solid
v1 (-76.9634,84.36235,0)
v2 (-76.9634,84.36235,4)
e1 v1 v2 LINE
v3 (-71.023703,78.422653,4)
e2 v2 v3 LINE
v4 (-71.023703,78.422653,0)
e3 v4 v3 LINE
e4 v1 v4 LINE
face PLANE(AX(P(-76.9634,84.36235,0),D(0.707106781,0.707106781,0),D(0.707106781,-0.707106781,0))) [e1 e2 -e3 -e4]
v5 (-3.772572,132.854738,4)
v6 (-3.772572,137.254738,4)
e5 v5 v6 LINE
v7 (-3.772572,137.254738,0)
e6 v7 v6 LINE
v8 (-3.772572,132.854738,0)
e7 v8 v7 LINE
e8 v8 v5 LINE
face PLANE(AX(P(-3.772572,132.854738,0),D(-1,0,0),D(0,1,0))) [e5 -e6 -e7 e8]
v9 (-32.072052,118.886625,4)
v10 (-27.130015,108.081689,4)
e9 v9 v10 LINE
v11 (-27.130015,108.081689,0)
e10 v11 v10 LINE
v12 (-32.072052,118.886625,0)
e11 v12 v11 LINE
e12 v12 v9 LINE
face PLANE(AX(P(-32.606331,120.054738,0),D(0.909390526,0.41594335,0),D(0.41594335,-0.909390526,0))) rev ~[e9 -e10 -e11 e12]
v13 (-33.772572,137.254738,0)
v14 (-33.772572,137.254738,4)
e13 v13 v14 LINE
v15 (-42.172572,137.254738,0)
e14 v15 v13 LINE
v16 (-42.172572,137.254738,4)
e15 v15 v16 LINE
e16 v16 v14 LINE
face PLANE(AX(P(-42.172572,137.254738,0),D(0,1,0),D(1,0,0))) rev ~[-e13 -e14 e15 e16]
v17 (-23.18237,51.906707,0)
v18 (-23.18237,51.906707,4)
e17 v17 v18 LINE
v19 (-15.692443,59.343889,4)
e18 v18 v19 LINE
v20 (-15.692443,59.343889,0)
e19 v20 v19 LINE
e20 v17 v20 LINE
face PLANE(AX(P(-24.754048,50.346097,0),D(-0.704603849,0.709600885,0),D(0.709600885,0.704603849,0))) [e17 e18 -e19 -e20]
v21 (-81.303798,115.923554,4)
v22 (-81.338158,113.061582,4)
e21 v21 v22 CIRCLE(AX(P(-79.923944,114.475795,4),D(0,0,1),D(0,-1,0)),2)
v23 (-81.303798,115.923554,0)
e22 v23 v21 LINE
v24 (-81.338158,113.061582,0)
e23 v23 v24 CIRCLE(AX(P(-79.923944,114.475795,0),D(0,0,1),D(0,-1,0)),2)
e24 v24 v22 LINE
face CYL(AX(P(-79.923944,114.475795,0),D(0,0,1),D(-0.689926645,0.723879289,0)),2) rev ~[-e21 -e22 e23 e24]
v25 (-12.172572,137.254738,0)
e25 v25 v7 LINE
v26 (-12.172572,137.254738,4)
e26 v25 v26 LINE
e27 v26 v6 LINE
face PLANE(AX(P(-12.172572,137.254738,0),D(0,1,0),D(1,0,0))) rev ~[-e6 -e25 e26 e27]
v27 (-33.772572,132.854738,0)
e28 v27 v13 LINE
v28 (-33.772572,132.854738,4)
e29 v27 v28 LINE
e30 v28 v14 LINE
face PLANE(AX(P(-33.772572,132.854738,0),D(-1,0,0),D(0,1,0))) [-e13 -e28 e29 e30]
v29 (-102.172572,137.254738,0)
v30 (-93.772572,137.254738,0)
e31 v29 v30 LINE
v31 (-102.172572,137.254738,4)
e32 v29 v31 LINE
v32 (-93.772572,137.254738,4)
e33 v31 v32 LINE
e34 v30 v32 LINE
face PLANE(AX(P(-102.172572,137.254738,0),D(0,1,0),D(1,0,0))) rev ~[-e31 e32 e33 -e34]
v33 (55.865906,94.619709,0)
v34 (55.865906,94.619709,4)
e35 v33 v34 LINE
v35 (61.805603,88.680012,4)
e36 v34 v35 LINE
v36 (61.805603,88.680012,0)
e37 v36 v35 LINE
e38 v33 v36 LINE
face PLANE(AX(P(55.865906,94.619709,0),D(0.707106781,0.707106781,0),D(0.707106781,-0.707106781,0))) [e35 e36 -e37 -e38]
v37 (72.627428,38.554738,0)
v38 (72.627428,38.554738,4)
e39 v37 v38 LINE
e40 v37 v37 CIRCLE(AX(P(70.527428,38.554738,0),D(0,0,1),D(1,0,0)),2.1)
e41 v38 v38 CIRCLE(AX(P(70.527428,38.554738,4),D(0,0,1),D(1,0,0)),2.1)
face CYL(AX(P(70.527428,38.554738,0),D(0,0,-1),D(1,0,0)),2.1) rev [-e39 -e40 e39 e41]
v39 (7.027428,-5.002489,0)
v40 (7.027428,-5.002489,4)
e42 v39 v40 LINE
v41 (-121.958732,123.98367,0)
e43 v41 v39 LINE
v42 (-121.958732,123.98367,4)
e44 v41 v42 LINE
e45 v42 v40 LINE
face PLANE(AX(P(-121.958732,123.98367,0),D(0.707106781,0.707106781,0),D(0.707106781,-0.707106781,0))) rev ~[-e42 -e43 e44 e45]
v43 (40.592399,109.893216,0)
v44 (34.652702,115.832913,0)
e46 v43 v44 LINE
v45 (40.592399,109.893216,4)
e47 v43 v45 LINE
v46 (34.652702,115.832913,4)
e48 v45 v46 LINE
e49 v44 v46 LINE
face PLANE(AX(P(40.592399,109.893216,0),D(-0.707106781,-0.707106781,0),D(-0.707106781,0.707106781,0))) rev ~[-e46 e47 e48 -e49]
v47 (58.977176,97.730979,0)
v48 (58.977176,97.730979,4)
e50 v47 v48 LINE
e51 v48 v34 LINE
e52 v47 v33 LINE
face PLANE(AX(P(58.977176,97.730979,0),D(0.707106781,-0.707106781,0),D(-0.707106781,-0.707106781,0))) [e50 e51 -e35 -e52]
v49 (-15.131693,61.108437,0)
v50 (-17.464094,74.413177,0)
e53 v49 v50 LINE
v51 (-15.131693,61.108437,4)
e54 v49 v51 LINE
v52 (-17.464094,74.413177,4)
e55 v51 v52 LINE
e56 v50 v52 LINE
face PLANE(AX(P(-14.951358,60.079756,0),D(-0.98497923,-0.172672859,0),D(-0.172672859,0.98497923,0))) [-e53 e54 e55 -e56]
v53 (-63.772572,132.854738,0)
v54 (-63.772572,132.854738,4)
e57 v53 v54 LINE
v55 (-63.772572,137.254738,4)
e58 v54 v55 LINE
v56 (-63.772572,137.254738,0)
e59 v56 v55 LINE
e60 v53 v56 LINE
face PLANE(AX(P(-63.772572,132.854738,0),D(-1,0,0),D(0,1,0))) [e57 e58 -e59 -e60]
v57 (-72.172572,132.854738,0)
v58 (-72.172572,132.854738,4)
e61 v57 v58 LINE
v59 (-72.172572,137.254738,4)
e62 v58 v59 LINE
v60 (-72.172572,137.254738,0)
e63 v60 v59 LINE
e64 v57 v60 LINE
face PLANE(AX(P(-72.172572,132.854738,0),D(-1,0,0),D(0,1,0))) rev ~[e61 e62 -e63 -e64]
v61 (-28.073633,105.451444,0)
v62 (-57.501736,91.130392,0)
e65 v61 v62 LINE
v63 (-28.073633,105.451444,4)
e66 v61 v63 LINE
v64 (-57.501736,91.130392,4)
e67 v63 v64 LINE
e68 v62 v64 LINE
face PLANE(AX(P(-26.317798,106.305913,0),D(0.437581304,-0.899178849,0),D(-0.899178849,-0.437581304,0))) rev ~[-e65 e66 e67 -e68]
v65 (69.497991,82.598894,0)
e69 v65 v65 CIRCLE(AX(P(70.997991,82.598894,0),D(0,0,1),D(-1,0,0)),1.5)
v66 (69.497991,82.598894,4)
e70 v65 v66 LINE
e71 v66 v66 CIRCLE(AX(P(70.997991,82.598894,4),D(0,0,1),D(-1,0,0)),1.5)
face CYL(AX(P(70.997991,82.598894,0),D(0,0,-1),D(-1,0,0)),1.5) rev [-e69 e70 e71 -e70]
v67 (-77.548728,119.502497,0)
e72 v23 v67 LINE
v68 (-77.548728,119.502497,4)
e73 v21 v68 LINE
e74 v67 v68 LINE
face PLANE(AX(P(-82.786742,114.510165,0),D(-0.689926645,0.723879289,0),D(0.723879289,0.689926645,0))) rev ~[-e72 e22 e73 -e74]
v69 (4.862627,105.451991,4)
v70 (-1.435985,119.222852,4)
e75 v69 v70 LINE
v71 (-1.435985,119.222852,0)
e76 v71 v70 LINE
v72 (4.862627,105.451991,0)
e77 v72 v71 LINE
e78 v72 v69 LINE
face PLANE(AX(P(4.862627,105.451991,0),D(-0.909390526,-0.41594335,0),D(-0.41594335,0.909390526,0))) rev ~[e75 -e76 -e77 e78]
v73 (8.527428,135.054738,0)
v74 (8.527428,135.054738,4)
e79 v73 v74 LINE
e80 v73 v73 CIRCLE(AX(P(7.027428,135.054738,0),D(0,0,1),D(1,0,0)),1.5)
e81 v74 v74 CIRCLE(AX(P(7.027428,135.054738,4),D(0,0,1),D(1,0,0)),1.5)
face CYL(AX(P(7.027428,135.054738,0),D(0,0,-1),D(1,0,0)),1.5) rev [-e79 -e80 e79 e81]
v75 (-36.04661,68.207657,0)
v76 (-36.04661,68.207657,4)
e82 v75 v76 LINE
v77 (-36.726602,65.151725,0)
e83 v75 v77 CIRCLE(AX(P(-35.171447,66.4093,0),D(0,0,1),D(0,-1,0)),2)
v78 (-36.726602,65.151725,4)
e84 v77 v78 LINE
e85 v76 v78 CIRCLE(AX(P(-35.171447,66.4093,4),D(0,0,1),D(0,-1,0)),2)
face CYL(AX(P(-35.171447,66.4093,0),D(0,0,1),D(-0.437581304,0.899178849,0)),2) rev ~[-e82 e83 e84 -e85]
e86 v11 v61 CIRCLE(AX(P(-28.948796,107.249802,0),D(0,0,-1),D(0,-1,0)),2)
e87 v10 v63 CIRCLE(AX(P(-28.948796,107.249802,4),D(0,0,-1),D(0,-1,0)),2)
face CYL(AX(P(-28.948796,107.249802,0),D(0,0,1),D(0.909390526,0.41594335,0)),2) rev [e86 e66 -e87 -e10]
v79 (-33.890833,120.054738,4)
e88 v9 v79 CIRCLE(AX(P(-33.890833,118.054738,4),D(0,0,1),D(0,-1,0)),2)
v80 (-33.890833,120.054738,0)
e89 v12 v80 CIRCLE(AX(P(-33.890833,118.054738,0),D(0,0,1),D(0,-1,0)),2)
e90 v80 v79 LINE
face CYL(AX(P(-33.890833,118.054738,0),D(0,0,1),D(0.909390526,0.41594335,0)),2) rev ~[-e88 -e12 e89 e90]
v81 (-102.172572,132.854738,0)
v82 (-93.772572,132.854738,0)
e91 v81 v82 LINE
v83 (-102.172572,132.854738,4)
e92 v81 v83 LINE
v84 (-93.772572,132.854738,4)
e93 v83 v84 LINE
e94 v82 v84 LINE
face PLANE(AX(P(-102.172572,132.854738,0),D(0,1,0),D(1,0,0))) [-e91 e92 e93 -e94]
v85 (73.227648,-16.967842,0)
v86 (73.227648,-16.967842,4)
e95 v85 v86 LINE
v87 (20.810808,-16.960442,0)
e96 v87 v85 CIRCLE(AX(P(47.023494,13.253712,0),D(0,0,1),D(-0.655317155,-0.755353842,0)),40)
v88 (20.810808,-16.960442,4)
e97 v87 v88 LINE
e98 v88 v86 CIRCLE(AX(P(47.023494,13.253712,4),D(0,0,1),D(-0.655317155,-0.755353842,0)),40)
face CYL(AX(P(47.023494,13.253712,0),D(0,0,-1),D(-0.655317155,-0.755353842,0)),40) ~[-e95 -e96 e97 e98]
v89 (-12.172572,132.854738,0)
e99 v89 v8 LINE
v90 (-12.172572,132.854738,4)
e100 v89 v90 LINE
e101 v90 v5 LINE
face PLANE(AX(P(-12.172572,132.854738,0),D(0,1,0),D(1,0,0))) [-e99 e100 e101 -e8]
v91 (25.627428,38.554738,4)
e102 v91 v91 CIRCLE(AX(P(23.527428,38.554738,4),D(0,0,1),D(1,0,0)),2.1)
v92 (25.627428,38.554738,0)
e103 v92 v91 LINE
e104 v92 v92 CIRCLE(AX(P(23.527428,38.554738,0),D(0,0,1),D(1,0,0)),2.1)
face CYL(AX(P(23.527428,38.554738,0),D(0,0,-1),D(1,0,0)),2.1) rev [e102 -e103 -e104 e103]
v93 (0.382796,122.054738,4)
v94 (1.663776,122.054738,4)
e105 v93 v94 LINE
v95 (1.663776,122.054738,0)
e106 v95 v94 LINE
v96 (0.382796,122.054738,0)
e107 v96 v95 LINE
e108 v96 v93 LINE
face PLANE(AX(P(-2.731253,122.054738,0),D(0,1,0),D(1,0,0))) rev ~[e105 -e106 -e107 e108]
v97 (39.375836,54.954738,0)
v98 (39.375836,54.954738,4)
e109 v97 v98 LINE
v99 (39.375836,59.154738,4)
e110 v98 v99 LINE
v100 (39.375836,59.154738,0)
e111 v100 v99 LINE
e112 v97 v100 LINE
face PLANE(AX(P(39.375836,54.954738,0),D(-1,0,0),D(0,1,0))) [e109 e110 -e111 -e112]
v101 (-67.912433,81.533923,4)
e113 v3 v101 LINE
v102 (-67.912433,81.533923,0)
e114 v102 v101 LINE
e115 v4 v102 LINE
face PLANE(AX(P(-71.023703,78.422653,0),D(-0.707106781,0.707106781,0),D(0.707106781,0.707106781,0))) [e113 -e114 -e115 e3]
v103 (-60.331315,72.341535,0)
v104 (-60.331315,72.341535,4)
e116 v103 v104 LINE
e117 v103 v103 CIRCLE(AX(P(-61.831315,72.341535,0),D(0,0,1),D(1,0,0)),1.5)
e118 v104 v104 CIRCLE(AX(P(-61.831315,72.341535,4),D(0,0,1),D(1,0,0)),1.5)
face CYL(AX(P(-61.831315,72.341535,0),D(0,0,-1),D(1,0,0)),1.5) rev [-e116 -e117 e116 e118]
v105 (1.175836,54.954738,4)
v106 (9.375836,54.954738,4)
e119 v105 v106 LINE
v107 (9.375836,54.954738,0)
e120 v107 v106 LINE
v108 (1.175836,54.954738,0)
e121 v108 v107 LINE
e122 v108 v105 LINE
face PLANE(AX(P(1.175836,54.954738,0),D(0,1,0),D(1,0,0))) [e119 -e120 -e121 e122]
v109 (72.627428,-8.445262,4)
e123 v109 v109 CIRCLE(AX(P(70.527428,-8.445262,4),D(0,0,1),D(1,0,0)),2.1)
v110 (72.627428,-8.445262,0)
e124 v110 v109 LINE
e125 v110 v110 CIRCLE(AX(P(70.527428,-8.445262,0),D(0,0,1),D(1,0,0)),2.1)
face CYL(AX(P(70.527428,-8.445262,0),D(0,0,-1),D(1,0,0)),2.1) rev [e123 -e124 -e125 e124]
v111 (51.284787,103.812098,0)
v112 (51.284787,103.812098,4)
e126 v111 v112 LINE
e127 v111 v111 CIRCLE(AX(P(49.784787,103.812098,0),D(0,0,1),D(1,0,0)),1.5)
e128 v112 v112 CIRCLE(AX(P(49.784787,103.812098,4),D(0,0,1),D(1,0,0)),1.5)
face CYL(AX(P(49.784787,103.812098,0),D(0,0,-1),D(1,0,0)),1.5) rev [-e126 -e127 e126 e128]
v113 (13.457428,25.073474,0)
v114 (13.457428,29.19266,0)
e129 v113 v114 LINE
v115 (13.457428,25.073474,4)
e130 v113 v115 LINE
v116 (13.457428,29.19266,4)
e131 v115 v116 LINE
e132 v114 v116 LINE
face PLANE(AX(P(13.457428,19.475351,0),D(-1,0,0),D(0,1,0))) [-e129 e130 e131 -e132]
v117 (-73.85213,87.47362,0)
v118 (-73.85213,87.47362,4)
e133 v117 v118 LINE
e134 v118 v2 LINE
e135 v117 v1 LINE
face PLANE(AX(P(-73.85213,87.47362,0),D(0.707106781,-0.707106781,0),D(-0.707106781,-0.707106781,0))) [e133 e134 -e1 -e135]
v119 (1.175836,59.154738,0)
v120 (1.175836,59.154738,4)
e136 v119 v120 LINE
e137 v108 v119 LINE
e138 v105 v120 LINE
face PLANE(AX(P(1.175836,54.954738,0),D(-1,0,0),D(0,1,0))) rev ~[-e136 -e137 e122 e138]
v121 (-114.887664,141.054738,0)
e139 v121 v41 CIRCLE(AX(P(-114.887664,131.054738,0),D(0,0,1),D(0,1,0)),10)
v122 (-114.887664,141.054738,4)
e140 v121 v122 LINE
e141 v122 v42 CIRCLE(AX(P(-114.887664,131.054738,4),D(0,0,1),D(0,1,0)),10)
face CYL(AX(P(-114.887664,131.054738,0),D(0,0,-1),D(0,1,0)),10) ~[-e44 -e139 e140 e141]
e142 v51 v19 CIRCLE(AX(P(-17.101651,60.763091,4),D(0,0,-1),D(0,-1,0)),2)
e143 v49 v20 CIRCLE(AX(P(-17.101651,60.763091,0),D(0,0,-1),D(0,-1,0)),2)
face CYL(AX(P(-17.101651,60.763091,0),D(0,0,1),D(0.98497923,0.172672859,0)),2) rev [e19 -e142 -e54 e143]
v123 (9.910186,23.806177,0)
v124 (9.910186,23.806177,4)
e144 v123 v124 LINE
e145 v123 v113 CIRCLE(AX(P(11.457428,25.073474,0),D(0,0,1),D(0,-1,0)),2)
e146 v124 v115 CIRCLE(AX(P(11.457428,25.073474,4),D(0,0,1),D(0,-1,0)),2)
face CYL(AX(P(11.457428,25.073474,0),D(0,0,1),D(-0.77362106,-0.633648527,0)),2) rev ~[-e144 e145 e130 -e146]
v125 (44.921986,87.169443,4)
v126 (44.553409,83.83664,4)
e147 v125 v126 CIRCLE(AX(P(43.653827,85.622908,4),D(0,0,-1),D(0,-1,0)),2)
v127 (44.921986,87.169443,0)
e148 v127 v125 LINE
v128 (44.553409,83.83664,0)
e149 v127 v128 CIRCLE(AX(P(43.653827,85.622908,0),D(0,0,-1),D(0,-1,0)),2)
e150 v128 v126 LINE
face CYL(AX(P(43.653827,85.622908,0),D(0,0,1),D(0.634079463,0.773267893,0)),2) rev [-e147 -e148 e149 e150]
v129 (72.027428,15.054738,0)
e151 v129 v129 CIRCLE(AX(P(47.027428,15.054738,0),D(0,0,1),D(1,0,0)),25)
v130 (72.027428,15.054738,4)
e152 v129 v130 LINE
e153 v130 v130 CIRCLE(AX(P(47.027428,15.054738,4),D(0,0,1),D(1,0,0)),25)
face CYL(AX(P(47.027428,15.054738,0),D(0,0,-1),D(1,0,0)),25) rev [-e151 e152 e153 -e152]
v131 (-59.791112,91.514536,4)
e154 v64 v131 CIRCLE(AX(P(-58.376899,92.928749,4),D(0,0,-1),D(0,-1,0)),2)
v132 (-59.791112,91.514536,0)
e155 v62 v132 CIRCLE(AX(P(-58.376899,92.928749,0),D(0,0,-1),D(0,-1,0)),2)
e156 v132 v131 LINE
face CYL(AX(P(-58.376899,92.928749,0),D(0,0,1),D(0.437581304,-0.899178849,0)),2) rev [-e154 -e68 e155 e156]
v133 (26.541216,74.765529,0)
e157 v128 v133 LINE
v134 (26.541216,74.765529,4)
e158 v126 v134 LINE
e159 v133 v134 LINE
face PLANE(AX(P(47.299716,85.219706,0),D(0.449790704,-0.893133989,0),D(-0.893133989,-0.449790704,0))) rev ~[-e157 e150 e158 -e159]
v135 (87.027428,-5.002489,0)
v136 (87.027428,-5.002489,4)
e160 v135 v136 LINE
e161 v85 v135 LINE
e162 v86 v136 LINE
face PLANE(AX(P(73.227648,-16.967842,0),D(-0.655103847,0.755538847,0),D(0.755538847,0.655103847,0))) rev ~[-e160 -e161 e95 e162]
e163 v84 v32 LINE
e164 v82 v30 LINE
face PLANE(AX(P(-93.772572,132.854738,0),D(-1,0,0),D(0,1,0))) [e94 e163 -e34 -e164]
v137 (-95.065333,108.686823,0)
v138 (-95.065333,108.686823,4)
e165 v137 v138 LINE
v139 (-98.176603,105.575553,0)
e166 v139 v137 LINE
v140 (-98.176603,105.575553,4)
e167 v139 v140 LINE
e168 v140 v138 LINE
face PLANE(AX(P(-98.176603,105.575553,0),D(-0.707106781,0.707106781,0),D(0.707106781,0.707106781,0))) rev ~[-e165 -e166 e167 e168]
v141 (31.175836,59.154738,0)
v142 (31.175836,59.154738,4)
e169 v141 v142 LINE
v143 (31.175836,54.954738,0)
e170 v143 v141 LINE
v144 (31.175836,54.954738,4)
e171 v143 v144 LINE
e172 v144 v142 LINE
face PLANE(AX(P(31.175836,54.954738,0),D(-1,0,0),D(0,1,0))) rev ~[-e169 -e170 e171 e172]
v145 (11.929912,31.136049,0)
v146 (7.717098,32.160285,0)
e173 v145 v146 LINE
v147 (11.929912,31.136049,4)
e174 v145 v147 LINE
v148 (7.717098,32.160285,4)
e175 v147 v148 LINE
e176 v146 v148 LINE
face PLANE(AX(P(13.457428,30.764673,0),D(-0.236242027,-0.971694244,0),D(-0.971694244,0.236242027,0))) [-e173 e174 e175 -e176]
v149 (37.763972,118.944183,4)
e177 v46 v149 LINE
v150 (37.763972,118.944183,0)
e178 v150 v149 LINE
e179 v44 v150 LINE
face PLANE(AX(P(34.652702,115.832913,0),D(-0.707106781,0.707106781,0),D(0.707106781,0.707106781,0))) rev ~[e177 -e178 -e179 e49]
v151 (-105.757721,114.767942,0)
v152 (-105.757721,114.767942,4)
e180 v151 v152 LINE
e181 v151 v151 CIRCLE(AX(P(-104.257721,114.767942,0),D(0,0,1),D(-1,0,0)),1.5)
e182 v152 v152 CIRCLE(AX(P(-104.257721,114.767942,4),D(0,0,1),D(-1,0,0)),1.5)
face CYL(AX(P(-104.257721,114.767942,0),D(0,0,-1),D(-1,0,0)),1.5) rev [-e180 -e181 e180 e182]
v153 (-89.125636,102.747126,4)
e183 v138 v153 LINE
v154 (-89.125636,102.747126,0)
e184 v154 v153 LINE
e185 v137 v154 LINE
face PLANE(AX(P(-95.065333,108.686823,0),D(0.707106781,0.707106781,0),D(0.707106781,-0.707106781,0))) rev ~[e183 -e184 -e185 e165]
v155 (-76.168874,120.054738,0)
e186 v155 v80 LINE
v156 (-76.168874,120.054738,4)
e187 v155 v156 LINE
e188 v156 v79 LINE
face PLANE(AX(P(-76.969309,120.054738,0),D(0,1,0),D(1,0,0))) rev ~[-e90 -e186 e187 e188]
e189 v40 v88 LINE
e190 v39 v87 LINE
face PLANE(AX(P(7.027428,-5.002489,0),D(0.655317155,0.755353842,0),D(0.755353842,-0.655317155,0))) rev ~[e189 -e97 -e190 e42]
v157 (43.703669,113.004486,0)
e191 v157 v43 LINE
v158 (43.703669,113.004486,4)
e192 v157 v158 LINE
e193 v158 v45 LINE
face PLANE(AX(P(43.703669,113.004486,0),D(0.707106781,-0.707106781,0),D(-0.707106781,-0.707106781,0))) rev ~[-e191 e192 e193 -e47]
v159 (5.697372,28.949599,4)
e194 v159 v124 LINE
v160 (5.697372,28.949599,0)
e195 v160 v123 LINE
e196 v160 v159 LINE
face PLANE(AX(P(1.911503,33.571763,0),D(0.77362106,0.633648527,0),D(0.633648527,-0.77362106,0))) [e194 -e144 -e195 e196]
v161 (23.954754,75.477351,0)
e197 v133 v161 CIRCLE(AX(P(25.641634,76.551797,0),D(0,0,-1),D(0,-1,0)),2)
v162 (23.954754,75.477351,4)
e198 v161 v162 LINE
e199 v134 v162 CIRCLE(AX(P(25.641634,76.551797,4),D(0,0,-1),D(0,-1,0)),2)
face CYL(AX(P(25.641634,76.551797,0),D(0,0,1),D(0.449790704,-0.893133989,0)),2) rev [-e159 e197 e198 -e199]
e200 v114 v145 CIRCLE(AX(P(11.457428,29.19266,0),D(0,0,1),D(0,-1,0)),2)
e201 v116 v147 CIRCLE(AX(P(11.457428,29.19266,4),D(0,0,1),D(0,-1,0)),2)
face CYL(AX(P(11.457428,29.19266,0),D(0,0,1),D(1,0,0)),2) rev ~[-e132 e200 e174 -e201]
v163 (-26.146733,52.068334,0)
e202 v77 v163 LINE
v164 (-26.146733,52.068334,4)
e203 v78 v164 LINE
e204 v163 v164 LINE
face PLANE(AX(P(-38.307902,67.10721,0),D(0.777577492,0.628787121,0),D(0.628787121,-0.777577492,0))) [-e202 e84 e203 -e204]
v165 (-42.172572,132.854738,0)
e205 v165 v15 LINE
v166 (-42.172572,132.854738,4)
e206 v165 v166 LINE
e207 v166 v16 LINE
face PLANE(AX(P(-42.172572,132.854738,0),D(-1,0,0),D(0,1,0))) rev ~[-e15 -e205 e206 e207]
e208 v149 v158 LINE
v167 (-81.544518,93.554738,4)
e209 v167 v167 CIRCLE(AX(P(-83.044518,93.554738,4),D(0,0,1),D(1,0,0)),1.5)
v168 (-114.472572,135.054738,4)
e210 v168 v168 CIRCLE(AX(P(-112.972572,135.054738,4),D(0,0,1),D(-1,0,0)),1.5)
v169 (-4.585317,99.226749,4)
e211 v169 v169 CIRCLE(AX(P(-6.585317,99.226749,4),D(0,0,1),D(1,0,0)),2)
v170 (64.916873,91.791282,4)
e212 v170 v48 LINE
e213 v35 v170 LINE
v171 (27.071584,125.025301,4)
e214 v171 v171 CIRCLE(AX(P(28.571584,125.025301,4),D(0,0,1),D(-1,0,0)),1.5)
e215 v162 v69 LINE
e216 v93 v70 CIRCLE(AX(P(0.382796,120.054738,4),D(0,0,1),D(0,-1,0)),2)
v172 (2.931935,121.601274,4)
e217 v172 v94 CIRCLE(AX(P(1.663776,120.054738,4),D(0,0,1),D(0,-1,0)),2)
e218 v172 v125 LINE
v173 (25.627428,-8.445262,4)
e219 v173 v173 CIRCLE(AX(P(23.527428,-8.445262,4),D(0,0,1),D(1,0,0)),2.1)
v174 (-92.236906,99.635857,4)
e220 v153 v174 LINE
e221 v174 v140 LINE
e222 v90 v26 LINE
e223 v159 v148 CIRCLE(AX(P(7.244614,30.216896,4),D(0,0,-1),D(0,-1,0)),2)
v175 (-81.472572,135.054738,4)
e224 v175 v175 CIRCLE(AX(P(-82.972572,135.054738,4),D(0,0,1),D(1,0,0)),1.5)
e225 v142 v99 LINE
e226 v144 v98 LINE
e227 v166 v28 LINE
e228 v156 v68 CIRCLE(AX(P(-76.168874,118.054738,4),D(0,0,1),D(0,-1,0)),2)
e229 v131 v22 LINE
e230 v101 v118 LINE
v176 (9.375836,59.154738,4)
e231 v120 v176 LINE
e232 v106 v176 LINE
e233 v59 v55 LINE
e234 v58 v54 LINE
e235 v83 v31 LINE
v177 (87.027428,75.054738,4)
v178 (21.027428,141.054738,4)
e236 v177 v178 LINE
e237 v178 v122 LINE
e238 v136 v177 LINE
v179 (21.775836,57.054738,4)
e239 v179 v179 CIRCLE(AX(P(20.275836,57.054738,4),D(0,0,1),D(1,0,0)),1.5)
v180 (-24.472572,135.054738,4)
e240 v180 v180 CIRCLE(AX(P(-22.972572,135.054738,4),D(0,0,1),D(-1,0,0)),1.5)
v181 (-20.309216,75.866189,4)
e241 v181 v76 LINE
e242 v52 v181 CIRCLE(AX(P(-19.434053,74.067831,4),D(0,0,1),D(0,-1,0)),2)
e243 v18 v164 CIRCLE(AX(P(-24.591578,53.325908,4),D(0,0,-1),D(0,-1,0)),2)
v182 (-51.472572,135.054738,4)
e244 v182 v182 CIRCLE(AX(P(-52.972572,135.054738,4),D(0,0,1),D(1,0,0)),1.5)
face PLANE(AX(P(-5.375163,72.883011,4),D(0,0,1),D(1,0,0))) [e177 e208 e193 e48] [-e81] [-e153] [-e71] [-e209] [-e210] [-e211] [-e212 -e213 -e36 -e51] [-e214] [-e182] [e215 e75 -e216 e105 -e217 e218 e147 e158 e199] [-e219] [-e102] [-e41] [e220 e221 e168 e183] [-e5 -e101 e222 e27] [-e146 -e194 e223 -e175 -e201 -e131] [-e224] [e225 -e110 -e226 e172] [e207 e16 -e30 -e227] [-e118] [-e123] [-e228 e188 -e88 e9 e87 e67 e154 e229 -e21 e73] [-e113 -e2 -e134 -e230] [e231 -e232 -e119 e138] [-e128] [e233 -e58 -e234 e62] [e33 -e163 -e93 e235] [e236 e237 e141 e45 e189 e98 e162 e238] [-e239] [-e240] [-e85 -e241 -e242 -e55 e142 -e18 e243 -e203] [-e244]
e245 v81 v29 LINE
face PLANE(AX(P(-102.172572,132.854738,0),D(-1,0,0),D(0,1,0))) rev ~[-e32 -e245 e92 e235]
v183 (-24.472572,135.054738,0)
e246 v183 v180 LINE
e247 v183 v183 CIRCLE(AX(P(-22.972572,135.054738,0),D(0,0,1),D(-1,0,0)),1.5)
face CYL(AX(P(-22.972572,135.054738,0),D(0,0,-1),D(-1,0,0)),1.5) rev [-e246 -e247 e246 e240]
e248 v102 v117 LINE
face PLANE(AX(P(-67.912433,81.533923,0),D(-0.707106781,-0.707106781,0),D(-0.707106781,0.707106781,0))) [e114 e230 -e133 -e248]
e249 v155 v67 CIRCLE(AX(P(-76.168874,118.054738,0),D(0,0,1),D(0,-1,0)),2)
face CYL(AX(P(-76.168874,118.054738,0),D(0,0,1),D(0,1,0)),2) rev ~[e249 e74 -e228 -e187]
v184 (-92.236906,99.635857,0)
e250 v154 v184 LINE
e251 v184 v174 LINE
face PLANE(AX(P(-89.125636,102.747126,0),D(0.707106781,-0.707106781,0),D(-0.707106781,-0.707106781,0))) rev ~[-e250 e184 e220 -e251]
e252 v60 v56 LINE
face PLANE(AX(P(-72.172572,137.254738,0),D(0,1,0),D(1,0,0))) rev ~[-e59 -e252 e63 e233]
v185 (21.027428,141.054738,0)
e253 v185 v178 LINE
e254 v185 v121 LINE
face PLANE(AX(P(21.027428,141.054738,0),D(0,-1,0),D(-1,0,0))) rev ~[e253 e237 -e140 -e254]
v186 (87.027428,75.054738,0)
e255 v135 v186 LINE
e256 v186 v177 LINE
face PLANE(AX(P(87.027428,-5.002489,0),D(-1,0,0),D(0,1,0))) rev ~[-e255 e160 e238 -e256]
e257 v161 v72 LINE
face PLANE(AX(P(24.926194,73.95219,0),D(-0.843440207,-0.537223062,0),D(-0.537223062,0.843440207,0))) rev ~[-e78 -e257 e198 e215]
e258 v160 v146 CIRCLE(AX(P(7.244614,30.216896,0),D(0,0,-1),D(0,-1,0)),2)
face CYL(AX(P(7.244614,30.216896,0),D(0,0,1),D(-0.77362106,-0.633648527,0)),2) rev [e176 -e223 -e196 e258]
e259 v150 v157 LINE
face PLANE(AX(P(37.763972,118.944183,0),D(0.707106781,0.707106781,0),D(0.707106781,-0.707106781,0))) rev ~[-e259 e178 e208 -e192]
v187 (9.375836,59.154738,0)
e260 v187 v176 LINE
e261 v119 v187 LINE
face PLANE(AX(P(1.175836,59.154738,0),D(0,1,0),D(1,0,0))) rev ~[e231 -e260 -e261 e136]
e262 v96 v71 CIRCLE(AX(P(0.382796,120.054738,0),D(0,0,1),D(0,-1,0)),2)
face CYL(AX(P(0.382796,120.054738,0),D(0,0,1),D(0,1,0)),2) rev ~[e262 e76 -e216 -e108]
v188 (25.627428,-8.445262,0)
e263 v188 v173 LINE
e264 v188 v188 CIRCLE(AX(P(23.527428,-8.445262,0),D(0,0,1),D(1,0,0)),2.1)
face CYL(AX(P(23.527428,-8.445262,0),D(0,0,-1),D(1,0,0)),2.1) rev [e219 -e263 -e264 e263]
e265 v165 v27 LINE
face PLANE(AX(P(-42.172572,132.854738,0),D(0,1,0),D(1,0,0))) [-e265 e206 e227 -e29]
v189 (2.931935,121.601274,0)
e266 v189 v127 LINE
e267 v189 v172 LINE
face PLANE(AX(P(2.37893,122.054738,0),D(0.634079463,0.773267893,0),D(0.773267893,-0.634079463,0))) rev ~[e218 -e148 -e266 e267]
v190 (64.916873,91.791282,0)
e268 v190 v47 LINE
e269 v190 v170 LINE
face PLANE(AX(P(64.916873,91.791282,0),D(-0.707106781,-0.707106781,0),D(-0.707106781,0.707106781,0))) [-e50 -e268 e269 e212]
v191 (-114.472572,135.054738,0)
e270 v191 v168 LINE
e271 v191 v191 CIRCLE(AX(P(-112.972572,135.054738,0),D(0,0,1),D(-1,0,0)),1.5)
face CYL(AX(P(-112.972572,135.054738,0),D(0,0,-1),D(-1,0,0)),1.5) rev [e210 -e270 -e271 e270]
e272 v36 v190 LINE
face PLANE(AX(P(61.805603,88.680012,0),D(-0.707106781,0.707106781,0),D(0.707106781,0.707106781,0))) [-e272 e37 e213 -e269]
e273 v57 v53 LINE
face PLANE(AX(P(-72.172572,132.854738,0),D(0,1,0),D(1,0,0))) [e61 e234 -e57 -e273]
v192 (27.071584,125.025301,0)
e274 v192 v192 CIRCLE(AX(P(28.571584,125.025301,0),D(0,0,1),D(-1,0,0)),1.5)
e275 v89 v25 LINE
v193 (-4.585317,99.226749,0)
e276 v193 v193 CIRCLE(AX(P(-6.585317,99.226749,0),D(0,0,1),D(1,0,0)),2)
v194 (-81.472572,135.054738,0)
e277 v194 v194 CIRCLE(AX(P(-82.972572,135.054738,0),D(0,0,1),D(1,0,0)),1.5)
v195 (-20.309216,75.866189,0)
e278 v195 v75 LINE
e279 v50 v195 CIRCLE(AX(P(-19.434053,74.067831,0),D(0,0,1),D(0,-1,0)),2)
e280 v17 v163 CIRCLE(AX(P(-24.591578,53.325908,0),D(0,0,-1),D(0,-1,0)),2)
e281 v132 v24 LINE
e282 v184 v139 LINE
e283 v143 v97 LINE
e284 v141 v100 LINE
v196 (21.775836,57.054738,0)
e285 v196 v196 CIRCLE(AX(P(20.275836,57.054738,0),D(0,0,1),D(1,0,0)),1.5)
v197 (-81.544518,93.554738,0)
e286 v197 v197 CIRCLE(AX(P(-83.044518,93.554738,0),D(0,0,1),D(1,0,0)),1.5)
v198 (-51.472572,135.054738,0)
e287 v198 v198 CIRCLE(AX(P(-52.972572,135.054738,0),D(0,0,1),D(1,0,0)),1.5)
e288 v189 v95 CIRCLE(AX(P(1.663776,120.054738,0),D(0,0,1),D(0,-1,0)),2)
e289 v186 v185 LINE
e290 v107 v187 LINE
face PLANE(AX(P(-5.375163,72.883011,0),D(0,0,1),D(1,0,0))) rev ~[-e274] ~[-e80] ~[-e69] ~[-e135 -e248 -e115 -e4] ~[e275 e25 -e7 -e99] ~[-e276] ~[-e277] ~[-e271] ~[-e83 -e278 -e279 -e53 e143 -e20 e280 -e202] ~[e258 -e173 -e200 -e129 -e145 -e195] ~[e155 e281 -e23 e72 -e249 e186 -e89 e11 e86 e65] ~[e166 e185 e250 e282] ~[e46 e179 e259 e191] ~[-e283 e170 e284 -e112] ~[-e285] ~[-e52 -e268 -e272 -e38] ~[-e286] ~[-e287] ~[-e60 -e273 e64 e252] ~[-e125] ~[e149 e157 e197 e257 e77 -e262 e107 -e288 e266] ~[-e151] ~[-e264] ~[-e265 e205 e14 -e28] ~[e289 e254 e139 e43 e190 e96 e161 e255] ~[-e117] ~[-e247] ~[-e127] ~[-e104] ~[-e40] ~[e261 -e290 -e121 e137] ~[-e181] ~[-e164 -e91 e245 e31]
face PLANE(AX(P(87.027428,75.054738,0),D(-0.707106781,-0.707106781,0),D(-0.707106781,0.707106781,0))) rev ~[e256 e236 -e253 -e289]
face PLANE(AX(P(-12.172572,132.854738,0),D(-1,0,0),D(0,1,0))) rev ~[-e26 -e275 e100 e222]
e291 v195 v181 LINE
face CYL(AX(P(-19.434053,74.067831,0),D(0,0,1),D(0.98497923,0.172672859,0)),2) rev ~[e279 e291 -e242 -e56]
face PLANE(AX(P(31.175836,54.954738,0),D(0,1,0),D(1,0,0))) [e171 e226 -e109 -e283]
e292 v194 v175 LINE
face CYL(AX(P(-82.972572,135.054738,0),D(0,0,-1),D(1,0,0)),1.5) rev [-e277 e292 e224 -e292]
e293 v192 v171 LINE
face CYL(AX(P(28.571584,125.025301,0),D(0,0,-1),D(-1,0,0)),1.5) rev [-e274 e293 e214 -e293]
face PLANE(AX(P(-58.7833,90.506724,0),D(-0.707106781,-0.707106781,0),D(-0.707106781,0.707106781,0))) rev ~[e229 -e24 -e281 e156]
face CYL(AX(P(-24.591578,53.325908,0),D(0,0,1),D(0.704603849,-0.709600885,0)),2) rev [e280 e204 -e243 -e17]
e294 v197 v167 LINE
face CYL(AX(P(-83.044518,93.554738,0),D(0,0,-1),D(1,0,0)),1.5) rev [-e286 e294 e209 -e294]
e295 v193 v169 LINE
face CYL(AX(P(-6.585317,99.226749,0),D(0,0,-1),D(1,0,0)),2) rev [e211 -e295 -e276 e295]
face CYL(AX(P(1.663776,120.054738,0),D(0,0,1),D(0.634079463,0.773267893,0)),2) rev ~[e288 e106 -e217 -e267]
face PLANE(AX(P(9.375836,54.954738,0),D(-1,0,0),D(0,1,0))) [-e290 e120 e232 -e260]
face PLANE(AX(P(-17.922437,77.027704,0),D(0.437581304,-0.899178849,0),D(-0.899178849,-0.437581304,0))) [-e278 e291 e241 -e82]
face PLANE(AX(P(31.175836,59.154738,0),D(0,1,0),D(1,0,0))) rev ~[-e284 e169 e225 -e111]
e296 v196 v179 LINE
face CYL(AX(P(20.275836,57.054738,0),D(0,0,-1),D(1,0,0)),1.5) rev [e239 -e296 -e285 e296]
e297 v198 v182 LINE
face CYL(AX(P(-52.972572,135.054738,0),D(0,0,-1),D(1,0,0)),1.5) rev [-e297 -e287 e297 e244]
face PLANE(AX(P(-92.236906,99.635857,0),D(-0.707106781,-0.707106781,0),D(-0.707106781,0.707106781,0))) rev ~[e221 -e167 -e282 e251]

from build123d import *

# Parameters (mm, degrees)
SKETCH_1_R      = 1.5
SKETCH_1_R_2    = 25
SKETCH_1_R_3    = 2
SKETCH_1_R_4    = 2.1
SKETCH_1_W      = 8.4
SKETCH_1_H      = 4.4
SKETCH_1_W_2    = 8.2
SKETCH_1_H_2    = 4.2
EXTRUDE_1_DEPTH = 4
FILLET_2_R      = 2


with BuildPart() as part:
    # 草图1 → 凸台-拉伸1 (new body)
    with BuildSketch(Plane.XY):
        with BuildLine():
            Line((7.027428163, -5.002489357), (20.810808237, -16.960441938))
            ThreePointArc((20.810808237, -16.960441938), (47.017847244, -26.746287876), (73.227648339, -16.967842153))
            Line((73.227648339, -16.967842153), (87.027428163, -5.002489357))
            Line((87.027428163, -5.002489357), (87.027428163, 75.054738201))
            Line((87.027428163, 75.054738201), (21.027428163, 141.054738201))
            Line((21.027428163, 141.054738201), (-114.887663771, 141.054738201))
            ThreePointArc((-114.887663771, 141.054738201), (-124.126459096, 134.881572525), (-121.958731583, 123.983670389))
            Line((-121.958731583, 123.983670389), (-90.203942848, 92.228881654))
            Line((-90.203942848, 92.228881654), (7.027428163, -5.002489357))
        make_face()
        with Locations((-52.972571837, 135.054738201)):
            Circle(SKETCH_1_R, mode=Mode.SUBTRACT)
        with Locations((47.027428163, 15.054738201)):
            Circle(SKETCH_1_R_2, mode=Mode.SUBTRACT)
        with Locations(Location((-22.972571837, 135.054738201, 0), (0, 0, 180))):
            Circle(SKETCH_1_R, mode=Mode.SUBTRACT)
        with Locations((7.027428163, 135.054738201)):
            Circle(SKETCH_1_R, mode=Mode.SUBTRACT)
        with Locations(Location((-112.972571837, 135.054738201, 0), (0, 0, 180))):
            Circle(SKETCH_1_R, mode=Mode.SUBTRACT)
        with Locations((-82.972571837, 135.054738201)):
            Circle(SKETCH_1_R, mode=Mode.SUBTRACT)
        with Locations((49.784787476, 103.812097514)):
            Circle(SKETCH_1_R, mode=Mode.SUBTRACT)
        with Locations(Location((70.997990912, 82.598894078, 0), (0, 0, 180))):
            Circle(SKETCH_1_R, mode=Mode.SUBTRACT)
        with Locations(Location((28.571584041, 125.025300949, 0), (0, 0, 180))):
            Circle(SKETCH_1_R, mode=Mode.SUBTRACT)
        with Locations((-83.04451802, 93.554738201)):
            Circle(SKETCH_1_R, mode=Mode.SUBTRACT)
        with Locations((-61.831314585, 72.341534765)):
            Circle(SKETCH_1_R, mode=Mode.SUBTRACT)
        with Locations(Location((-104.257721456, 114.767941637, 0), (0, 0, 180))):
            Circle(SKETCH_1_R, mode=Mode.SUBTRACT)
        with Locations((20.275835807, 57.054738201)):
            Circle(SKETCH_1_R, mode=Mode.SUBTRACT)
        with Locations((-6.58531727, 99.226748532)):
            Circle(SKETCH_1_R_3, mode=Mode.SUBTRACT)
        with Locations((70.527428163, -8.445261799)):
            Circle(SKETCH_1_R_4, mode=Mode.SUBTRACT)
        with Locations((23.527428163, -8.445261799)):
            Circle(SKETCH_1_R_4, mode=Mode.SUBTRACT)
        with Locations((23.527428163, 38.554738201)):
            Circle(SKETCH_1_R_4, mode=Mode.SUBTRACT)
        with Locations((70.527428163, 38.554738201)):
            Circle(SKETCH_1_R_4, mode=Mode.SUBTRACT)
        with Locations((-37.972571837, 135.054738201)):
            Rectangle(SKETCH_1_W, SKETCH_1_H, mode=Mode.SUBTRACT)
        with Locations((-7.972571837, 135.054738201)):
            Rectangle(SKETCH_1_W, SKETCH_1_H, mode=Mode.SUBTRACT)
        with Locations((-97.972571837, 135.054738201)):
            Rectangle(SKETCH_1_W, SKETCH_1_H, mode=Mode.SUBTRACT)
        with Locations((-67.972571837, 135.054738201)):
            Rectangle(SKETCH_1_W, SKETCH_1_H, mode=Mode.SUBTRACT)
        Polygon((55.865905794, 94.619709358), (61.805602756, 88.680012396), (64.916872594, 91.791282234), (58.977175632, 97.730979196), align=None, mode=Mode.SUBTRACT)
        Polygon((34.652702359, 115.832912794), (37.763972196, 118.944182631), (43.703669158, 113.004485669), (40.592399321, 109.893215832), align=None, mode=Mode.SUBTRACT)
        Polygon((-73.852129865, 87.473619883), (-76.963399702, 84.362350046), (-71.02370274, 78.422653084), (-67.912432903, 81.533922921), align=None, mode=Mode.SUBTRACT)
        Polygon((-89.125636339, 102.747126356), (-92.236906176, 99.635856519), (-98.176603138, 105.575553481), (-95.065333301, 108.686823318), align=None, mode=Mode.SUBTRACT)
        with Locations((5.275835807, 57.054738201)):
            Rectangle(SKETCH_1_W_2, SKETCH_1_H_2, mode=Mode.SUBTRACT)
        with Locations((35.275835807, 57.054738201)):
            Rectangle(SKETCH_1_W_2, SKETCH_1_H_2, mode=Mode.SUBTRACT)
        Polygon((-26.317798475, 106.3059132), (-58.783300448, 90.506724064), (-82.786741677, 114.510165293), (-76.96930946, 120.054738201), (-32.606331473, 120.054738201), align=None, mode=Mode.SUBTRACT)
        Polygon((47.299715686, 85.219705889), (24.926194473, 73.952189511), (4.862626833, 105.451990707), (-2.731253041, 122.054738201), (2.378929733, 122.054738201), align=None, mode=Mode.SUBTRACT)
        Polygon((-14.951358462, 60.079755544), (-17.922436994, 77.027703634), (-38.307901947, 67.107209668), (-24.754047946, 50.34609696), align=None, mode=Mode.SUBTRACT)
        Polygon((1.911503385, 33.57176286), (13.457428163, 19.475351063), (13.457428163, 30.764673398), align=None, mode=Mode.SUBTRACT)
    extrude(amount=EXTRUDE_1_DEPTH)

    # 圆角2
    fillet_2_edges = [part.edges().sort_by_distance(p)[0] for p in [
        (-26.317798475, 106.3059132, 2),
        (-32.606331473, 120.054738201, 2),
        (-76.96930946, 120.054738201, 2),
        (-82.786741677, 114.510165293, 2),
        (-58.783300448, 90.506724064, 2),
        (47.299715686, 85.219705889, 2),
        (2.378929733, 122.054738201, 2),
        (-2.731253041, 122.054738201, 2),
        (24.926194473, 73.952189511, 2),
        (-24.754047946, 50.34609696, 2),
        (-14.951358462, 60.079755544, 2),
        (-17.922436994, 77.027703634, 2),
        (-38.307901947, 67.107209668, 2),
        (13.457428163, 30.764673398, 2),
        (1.911503385, 33.57176286, 2),
        (13.457428163, 19.475351063, 2),
    ]]
    fillet(fillet_2_edges, radius=FILLET_2_R)


solid = part.part
